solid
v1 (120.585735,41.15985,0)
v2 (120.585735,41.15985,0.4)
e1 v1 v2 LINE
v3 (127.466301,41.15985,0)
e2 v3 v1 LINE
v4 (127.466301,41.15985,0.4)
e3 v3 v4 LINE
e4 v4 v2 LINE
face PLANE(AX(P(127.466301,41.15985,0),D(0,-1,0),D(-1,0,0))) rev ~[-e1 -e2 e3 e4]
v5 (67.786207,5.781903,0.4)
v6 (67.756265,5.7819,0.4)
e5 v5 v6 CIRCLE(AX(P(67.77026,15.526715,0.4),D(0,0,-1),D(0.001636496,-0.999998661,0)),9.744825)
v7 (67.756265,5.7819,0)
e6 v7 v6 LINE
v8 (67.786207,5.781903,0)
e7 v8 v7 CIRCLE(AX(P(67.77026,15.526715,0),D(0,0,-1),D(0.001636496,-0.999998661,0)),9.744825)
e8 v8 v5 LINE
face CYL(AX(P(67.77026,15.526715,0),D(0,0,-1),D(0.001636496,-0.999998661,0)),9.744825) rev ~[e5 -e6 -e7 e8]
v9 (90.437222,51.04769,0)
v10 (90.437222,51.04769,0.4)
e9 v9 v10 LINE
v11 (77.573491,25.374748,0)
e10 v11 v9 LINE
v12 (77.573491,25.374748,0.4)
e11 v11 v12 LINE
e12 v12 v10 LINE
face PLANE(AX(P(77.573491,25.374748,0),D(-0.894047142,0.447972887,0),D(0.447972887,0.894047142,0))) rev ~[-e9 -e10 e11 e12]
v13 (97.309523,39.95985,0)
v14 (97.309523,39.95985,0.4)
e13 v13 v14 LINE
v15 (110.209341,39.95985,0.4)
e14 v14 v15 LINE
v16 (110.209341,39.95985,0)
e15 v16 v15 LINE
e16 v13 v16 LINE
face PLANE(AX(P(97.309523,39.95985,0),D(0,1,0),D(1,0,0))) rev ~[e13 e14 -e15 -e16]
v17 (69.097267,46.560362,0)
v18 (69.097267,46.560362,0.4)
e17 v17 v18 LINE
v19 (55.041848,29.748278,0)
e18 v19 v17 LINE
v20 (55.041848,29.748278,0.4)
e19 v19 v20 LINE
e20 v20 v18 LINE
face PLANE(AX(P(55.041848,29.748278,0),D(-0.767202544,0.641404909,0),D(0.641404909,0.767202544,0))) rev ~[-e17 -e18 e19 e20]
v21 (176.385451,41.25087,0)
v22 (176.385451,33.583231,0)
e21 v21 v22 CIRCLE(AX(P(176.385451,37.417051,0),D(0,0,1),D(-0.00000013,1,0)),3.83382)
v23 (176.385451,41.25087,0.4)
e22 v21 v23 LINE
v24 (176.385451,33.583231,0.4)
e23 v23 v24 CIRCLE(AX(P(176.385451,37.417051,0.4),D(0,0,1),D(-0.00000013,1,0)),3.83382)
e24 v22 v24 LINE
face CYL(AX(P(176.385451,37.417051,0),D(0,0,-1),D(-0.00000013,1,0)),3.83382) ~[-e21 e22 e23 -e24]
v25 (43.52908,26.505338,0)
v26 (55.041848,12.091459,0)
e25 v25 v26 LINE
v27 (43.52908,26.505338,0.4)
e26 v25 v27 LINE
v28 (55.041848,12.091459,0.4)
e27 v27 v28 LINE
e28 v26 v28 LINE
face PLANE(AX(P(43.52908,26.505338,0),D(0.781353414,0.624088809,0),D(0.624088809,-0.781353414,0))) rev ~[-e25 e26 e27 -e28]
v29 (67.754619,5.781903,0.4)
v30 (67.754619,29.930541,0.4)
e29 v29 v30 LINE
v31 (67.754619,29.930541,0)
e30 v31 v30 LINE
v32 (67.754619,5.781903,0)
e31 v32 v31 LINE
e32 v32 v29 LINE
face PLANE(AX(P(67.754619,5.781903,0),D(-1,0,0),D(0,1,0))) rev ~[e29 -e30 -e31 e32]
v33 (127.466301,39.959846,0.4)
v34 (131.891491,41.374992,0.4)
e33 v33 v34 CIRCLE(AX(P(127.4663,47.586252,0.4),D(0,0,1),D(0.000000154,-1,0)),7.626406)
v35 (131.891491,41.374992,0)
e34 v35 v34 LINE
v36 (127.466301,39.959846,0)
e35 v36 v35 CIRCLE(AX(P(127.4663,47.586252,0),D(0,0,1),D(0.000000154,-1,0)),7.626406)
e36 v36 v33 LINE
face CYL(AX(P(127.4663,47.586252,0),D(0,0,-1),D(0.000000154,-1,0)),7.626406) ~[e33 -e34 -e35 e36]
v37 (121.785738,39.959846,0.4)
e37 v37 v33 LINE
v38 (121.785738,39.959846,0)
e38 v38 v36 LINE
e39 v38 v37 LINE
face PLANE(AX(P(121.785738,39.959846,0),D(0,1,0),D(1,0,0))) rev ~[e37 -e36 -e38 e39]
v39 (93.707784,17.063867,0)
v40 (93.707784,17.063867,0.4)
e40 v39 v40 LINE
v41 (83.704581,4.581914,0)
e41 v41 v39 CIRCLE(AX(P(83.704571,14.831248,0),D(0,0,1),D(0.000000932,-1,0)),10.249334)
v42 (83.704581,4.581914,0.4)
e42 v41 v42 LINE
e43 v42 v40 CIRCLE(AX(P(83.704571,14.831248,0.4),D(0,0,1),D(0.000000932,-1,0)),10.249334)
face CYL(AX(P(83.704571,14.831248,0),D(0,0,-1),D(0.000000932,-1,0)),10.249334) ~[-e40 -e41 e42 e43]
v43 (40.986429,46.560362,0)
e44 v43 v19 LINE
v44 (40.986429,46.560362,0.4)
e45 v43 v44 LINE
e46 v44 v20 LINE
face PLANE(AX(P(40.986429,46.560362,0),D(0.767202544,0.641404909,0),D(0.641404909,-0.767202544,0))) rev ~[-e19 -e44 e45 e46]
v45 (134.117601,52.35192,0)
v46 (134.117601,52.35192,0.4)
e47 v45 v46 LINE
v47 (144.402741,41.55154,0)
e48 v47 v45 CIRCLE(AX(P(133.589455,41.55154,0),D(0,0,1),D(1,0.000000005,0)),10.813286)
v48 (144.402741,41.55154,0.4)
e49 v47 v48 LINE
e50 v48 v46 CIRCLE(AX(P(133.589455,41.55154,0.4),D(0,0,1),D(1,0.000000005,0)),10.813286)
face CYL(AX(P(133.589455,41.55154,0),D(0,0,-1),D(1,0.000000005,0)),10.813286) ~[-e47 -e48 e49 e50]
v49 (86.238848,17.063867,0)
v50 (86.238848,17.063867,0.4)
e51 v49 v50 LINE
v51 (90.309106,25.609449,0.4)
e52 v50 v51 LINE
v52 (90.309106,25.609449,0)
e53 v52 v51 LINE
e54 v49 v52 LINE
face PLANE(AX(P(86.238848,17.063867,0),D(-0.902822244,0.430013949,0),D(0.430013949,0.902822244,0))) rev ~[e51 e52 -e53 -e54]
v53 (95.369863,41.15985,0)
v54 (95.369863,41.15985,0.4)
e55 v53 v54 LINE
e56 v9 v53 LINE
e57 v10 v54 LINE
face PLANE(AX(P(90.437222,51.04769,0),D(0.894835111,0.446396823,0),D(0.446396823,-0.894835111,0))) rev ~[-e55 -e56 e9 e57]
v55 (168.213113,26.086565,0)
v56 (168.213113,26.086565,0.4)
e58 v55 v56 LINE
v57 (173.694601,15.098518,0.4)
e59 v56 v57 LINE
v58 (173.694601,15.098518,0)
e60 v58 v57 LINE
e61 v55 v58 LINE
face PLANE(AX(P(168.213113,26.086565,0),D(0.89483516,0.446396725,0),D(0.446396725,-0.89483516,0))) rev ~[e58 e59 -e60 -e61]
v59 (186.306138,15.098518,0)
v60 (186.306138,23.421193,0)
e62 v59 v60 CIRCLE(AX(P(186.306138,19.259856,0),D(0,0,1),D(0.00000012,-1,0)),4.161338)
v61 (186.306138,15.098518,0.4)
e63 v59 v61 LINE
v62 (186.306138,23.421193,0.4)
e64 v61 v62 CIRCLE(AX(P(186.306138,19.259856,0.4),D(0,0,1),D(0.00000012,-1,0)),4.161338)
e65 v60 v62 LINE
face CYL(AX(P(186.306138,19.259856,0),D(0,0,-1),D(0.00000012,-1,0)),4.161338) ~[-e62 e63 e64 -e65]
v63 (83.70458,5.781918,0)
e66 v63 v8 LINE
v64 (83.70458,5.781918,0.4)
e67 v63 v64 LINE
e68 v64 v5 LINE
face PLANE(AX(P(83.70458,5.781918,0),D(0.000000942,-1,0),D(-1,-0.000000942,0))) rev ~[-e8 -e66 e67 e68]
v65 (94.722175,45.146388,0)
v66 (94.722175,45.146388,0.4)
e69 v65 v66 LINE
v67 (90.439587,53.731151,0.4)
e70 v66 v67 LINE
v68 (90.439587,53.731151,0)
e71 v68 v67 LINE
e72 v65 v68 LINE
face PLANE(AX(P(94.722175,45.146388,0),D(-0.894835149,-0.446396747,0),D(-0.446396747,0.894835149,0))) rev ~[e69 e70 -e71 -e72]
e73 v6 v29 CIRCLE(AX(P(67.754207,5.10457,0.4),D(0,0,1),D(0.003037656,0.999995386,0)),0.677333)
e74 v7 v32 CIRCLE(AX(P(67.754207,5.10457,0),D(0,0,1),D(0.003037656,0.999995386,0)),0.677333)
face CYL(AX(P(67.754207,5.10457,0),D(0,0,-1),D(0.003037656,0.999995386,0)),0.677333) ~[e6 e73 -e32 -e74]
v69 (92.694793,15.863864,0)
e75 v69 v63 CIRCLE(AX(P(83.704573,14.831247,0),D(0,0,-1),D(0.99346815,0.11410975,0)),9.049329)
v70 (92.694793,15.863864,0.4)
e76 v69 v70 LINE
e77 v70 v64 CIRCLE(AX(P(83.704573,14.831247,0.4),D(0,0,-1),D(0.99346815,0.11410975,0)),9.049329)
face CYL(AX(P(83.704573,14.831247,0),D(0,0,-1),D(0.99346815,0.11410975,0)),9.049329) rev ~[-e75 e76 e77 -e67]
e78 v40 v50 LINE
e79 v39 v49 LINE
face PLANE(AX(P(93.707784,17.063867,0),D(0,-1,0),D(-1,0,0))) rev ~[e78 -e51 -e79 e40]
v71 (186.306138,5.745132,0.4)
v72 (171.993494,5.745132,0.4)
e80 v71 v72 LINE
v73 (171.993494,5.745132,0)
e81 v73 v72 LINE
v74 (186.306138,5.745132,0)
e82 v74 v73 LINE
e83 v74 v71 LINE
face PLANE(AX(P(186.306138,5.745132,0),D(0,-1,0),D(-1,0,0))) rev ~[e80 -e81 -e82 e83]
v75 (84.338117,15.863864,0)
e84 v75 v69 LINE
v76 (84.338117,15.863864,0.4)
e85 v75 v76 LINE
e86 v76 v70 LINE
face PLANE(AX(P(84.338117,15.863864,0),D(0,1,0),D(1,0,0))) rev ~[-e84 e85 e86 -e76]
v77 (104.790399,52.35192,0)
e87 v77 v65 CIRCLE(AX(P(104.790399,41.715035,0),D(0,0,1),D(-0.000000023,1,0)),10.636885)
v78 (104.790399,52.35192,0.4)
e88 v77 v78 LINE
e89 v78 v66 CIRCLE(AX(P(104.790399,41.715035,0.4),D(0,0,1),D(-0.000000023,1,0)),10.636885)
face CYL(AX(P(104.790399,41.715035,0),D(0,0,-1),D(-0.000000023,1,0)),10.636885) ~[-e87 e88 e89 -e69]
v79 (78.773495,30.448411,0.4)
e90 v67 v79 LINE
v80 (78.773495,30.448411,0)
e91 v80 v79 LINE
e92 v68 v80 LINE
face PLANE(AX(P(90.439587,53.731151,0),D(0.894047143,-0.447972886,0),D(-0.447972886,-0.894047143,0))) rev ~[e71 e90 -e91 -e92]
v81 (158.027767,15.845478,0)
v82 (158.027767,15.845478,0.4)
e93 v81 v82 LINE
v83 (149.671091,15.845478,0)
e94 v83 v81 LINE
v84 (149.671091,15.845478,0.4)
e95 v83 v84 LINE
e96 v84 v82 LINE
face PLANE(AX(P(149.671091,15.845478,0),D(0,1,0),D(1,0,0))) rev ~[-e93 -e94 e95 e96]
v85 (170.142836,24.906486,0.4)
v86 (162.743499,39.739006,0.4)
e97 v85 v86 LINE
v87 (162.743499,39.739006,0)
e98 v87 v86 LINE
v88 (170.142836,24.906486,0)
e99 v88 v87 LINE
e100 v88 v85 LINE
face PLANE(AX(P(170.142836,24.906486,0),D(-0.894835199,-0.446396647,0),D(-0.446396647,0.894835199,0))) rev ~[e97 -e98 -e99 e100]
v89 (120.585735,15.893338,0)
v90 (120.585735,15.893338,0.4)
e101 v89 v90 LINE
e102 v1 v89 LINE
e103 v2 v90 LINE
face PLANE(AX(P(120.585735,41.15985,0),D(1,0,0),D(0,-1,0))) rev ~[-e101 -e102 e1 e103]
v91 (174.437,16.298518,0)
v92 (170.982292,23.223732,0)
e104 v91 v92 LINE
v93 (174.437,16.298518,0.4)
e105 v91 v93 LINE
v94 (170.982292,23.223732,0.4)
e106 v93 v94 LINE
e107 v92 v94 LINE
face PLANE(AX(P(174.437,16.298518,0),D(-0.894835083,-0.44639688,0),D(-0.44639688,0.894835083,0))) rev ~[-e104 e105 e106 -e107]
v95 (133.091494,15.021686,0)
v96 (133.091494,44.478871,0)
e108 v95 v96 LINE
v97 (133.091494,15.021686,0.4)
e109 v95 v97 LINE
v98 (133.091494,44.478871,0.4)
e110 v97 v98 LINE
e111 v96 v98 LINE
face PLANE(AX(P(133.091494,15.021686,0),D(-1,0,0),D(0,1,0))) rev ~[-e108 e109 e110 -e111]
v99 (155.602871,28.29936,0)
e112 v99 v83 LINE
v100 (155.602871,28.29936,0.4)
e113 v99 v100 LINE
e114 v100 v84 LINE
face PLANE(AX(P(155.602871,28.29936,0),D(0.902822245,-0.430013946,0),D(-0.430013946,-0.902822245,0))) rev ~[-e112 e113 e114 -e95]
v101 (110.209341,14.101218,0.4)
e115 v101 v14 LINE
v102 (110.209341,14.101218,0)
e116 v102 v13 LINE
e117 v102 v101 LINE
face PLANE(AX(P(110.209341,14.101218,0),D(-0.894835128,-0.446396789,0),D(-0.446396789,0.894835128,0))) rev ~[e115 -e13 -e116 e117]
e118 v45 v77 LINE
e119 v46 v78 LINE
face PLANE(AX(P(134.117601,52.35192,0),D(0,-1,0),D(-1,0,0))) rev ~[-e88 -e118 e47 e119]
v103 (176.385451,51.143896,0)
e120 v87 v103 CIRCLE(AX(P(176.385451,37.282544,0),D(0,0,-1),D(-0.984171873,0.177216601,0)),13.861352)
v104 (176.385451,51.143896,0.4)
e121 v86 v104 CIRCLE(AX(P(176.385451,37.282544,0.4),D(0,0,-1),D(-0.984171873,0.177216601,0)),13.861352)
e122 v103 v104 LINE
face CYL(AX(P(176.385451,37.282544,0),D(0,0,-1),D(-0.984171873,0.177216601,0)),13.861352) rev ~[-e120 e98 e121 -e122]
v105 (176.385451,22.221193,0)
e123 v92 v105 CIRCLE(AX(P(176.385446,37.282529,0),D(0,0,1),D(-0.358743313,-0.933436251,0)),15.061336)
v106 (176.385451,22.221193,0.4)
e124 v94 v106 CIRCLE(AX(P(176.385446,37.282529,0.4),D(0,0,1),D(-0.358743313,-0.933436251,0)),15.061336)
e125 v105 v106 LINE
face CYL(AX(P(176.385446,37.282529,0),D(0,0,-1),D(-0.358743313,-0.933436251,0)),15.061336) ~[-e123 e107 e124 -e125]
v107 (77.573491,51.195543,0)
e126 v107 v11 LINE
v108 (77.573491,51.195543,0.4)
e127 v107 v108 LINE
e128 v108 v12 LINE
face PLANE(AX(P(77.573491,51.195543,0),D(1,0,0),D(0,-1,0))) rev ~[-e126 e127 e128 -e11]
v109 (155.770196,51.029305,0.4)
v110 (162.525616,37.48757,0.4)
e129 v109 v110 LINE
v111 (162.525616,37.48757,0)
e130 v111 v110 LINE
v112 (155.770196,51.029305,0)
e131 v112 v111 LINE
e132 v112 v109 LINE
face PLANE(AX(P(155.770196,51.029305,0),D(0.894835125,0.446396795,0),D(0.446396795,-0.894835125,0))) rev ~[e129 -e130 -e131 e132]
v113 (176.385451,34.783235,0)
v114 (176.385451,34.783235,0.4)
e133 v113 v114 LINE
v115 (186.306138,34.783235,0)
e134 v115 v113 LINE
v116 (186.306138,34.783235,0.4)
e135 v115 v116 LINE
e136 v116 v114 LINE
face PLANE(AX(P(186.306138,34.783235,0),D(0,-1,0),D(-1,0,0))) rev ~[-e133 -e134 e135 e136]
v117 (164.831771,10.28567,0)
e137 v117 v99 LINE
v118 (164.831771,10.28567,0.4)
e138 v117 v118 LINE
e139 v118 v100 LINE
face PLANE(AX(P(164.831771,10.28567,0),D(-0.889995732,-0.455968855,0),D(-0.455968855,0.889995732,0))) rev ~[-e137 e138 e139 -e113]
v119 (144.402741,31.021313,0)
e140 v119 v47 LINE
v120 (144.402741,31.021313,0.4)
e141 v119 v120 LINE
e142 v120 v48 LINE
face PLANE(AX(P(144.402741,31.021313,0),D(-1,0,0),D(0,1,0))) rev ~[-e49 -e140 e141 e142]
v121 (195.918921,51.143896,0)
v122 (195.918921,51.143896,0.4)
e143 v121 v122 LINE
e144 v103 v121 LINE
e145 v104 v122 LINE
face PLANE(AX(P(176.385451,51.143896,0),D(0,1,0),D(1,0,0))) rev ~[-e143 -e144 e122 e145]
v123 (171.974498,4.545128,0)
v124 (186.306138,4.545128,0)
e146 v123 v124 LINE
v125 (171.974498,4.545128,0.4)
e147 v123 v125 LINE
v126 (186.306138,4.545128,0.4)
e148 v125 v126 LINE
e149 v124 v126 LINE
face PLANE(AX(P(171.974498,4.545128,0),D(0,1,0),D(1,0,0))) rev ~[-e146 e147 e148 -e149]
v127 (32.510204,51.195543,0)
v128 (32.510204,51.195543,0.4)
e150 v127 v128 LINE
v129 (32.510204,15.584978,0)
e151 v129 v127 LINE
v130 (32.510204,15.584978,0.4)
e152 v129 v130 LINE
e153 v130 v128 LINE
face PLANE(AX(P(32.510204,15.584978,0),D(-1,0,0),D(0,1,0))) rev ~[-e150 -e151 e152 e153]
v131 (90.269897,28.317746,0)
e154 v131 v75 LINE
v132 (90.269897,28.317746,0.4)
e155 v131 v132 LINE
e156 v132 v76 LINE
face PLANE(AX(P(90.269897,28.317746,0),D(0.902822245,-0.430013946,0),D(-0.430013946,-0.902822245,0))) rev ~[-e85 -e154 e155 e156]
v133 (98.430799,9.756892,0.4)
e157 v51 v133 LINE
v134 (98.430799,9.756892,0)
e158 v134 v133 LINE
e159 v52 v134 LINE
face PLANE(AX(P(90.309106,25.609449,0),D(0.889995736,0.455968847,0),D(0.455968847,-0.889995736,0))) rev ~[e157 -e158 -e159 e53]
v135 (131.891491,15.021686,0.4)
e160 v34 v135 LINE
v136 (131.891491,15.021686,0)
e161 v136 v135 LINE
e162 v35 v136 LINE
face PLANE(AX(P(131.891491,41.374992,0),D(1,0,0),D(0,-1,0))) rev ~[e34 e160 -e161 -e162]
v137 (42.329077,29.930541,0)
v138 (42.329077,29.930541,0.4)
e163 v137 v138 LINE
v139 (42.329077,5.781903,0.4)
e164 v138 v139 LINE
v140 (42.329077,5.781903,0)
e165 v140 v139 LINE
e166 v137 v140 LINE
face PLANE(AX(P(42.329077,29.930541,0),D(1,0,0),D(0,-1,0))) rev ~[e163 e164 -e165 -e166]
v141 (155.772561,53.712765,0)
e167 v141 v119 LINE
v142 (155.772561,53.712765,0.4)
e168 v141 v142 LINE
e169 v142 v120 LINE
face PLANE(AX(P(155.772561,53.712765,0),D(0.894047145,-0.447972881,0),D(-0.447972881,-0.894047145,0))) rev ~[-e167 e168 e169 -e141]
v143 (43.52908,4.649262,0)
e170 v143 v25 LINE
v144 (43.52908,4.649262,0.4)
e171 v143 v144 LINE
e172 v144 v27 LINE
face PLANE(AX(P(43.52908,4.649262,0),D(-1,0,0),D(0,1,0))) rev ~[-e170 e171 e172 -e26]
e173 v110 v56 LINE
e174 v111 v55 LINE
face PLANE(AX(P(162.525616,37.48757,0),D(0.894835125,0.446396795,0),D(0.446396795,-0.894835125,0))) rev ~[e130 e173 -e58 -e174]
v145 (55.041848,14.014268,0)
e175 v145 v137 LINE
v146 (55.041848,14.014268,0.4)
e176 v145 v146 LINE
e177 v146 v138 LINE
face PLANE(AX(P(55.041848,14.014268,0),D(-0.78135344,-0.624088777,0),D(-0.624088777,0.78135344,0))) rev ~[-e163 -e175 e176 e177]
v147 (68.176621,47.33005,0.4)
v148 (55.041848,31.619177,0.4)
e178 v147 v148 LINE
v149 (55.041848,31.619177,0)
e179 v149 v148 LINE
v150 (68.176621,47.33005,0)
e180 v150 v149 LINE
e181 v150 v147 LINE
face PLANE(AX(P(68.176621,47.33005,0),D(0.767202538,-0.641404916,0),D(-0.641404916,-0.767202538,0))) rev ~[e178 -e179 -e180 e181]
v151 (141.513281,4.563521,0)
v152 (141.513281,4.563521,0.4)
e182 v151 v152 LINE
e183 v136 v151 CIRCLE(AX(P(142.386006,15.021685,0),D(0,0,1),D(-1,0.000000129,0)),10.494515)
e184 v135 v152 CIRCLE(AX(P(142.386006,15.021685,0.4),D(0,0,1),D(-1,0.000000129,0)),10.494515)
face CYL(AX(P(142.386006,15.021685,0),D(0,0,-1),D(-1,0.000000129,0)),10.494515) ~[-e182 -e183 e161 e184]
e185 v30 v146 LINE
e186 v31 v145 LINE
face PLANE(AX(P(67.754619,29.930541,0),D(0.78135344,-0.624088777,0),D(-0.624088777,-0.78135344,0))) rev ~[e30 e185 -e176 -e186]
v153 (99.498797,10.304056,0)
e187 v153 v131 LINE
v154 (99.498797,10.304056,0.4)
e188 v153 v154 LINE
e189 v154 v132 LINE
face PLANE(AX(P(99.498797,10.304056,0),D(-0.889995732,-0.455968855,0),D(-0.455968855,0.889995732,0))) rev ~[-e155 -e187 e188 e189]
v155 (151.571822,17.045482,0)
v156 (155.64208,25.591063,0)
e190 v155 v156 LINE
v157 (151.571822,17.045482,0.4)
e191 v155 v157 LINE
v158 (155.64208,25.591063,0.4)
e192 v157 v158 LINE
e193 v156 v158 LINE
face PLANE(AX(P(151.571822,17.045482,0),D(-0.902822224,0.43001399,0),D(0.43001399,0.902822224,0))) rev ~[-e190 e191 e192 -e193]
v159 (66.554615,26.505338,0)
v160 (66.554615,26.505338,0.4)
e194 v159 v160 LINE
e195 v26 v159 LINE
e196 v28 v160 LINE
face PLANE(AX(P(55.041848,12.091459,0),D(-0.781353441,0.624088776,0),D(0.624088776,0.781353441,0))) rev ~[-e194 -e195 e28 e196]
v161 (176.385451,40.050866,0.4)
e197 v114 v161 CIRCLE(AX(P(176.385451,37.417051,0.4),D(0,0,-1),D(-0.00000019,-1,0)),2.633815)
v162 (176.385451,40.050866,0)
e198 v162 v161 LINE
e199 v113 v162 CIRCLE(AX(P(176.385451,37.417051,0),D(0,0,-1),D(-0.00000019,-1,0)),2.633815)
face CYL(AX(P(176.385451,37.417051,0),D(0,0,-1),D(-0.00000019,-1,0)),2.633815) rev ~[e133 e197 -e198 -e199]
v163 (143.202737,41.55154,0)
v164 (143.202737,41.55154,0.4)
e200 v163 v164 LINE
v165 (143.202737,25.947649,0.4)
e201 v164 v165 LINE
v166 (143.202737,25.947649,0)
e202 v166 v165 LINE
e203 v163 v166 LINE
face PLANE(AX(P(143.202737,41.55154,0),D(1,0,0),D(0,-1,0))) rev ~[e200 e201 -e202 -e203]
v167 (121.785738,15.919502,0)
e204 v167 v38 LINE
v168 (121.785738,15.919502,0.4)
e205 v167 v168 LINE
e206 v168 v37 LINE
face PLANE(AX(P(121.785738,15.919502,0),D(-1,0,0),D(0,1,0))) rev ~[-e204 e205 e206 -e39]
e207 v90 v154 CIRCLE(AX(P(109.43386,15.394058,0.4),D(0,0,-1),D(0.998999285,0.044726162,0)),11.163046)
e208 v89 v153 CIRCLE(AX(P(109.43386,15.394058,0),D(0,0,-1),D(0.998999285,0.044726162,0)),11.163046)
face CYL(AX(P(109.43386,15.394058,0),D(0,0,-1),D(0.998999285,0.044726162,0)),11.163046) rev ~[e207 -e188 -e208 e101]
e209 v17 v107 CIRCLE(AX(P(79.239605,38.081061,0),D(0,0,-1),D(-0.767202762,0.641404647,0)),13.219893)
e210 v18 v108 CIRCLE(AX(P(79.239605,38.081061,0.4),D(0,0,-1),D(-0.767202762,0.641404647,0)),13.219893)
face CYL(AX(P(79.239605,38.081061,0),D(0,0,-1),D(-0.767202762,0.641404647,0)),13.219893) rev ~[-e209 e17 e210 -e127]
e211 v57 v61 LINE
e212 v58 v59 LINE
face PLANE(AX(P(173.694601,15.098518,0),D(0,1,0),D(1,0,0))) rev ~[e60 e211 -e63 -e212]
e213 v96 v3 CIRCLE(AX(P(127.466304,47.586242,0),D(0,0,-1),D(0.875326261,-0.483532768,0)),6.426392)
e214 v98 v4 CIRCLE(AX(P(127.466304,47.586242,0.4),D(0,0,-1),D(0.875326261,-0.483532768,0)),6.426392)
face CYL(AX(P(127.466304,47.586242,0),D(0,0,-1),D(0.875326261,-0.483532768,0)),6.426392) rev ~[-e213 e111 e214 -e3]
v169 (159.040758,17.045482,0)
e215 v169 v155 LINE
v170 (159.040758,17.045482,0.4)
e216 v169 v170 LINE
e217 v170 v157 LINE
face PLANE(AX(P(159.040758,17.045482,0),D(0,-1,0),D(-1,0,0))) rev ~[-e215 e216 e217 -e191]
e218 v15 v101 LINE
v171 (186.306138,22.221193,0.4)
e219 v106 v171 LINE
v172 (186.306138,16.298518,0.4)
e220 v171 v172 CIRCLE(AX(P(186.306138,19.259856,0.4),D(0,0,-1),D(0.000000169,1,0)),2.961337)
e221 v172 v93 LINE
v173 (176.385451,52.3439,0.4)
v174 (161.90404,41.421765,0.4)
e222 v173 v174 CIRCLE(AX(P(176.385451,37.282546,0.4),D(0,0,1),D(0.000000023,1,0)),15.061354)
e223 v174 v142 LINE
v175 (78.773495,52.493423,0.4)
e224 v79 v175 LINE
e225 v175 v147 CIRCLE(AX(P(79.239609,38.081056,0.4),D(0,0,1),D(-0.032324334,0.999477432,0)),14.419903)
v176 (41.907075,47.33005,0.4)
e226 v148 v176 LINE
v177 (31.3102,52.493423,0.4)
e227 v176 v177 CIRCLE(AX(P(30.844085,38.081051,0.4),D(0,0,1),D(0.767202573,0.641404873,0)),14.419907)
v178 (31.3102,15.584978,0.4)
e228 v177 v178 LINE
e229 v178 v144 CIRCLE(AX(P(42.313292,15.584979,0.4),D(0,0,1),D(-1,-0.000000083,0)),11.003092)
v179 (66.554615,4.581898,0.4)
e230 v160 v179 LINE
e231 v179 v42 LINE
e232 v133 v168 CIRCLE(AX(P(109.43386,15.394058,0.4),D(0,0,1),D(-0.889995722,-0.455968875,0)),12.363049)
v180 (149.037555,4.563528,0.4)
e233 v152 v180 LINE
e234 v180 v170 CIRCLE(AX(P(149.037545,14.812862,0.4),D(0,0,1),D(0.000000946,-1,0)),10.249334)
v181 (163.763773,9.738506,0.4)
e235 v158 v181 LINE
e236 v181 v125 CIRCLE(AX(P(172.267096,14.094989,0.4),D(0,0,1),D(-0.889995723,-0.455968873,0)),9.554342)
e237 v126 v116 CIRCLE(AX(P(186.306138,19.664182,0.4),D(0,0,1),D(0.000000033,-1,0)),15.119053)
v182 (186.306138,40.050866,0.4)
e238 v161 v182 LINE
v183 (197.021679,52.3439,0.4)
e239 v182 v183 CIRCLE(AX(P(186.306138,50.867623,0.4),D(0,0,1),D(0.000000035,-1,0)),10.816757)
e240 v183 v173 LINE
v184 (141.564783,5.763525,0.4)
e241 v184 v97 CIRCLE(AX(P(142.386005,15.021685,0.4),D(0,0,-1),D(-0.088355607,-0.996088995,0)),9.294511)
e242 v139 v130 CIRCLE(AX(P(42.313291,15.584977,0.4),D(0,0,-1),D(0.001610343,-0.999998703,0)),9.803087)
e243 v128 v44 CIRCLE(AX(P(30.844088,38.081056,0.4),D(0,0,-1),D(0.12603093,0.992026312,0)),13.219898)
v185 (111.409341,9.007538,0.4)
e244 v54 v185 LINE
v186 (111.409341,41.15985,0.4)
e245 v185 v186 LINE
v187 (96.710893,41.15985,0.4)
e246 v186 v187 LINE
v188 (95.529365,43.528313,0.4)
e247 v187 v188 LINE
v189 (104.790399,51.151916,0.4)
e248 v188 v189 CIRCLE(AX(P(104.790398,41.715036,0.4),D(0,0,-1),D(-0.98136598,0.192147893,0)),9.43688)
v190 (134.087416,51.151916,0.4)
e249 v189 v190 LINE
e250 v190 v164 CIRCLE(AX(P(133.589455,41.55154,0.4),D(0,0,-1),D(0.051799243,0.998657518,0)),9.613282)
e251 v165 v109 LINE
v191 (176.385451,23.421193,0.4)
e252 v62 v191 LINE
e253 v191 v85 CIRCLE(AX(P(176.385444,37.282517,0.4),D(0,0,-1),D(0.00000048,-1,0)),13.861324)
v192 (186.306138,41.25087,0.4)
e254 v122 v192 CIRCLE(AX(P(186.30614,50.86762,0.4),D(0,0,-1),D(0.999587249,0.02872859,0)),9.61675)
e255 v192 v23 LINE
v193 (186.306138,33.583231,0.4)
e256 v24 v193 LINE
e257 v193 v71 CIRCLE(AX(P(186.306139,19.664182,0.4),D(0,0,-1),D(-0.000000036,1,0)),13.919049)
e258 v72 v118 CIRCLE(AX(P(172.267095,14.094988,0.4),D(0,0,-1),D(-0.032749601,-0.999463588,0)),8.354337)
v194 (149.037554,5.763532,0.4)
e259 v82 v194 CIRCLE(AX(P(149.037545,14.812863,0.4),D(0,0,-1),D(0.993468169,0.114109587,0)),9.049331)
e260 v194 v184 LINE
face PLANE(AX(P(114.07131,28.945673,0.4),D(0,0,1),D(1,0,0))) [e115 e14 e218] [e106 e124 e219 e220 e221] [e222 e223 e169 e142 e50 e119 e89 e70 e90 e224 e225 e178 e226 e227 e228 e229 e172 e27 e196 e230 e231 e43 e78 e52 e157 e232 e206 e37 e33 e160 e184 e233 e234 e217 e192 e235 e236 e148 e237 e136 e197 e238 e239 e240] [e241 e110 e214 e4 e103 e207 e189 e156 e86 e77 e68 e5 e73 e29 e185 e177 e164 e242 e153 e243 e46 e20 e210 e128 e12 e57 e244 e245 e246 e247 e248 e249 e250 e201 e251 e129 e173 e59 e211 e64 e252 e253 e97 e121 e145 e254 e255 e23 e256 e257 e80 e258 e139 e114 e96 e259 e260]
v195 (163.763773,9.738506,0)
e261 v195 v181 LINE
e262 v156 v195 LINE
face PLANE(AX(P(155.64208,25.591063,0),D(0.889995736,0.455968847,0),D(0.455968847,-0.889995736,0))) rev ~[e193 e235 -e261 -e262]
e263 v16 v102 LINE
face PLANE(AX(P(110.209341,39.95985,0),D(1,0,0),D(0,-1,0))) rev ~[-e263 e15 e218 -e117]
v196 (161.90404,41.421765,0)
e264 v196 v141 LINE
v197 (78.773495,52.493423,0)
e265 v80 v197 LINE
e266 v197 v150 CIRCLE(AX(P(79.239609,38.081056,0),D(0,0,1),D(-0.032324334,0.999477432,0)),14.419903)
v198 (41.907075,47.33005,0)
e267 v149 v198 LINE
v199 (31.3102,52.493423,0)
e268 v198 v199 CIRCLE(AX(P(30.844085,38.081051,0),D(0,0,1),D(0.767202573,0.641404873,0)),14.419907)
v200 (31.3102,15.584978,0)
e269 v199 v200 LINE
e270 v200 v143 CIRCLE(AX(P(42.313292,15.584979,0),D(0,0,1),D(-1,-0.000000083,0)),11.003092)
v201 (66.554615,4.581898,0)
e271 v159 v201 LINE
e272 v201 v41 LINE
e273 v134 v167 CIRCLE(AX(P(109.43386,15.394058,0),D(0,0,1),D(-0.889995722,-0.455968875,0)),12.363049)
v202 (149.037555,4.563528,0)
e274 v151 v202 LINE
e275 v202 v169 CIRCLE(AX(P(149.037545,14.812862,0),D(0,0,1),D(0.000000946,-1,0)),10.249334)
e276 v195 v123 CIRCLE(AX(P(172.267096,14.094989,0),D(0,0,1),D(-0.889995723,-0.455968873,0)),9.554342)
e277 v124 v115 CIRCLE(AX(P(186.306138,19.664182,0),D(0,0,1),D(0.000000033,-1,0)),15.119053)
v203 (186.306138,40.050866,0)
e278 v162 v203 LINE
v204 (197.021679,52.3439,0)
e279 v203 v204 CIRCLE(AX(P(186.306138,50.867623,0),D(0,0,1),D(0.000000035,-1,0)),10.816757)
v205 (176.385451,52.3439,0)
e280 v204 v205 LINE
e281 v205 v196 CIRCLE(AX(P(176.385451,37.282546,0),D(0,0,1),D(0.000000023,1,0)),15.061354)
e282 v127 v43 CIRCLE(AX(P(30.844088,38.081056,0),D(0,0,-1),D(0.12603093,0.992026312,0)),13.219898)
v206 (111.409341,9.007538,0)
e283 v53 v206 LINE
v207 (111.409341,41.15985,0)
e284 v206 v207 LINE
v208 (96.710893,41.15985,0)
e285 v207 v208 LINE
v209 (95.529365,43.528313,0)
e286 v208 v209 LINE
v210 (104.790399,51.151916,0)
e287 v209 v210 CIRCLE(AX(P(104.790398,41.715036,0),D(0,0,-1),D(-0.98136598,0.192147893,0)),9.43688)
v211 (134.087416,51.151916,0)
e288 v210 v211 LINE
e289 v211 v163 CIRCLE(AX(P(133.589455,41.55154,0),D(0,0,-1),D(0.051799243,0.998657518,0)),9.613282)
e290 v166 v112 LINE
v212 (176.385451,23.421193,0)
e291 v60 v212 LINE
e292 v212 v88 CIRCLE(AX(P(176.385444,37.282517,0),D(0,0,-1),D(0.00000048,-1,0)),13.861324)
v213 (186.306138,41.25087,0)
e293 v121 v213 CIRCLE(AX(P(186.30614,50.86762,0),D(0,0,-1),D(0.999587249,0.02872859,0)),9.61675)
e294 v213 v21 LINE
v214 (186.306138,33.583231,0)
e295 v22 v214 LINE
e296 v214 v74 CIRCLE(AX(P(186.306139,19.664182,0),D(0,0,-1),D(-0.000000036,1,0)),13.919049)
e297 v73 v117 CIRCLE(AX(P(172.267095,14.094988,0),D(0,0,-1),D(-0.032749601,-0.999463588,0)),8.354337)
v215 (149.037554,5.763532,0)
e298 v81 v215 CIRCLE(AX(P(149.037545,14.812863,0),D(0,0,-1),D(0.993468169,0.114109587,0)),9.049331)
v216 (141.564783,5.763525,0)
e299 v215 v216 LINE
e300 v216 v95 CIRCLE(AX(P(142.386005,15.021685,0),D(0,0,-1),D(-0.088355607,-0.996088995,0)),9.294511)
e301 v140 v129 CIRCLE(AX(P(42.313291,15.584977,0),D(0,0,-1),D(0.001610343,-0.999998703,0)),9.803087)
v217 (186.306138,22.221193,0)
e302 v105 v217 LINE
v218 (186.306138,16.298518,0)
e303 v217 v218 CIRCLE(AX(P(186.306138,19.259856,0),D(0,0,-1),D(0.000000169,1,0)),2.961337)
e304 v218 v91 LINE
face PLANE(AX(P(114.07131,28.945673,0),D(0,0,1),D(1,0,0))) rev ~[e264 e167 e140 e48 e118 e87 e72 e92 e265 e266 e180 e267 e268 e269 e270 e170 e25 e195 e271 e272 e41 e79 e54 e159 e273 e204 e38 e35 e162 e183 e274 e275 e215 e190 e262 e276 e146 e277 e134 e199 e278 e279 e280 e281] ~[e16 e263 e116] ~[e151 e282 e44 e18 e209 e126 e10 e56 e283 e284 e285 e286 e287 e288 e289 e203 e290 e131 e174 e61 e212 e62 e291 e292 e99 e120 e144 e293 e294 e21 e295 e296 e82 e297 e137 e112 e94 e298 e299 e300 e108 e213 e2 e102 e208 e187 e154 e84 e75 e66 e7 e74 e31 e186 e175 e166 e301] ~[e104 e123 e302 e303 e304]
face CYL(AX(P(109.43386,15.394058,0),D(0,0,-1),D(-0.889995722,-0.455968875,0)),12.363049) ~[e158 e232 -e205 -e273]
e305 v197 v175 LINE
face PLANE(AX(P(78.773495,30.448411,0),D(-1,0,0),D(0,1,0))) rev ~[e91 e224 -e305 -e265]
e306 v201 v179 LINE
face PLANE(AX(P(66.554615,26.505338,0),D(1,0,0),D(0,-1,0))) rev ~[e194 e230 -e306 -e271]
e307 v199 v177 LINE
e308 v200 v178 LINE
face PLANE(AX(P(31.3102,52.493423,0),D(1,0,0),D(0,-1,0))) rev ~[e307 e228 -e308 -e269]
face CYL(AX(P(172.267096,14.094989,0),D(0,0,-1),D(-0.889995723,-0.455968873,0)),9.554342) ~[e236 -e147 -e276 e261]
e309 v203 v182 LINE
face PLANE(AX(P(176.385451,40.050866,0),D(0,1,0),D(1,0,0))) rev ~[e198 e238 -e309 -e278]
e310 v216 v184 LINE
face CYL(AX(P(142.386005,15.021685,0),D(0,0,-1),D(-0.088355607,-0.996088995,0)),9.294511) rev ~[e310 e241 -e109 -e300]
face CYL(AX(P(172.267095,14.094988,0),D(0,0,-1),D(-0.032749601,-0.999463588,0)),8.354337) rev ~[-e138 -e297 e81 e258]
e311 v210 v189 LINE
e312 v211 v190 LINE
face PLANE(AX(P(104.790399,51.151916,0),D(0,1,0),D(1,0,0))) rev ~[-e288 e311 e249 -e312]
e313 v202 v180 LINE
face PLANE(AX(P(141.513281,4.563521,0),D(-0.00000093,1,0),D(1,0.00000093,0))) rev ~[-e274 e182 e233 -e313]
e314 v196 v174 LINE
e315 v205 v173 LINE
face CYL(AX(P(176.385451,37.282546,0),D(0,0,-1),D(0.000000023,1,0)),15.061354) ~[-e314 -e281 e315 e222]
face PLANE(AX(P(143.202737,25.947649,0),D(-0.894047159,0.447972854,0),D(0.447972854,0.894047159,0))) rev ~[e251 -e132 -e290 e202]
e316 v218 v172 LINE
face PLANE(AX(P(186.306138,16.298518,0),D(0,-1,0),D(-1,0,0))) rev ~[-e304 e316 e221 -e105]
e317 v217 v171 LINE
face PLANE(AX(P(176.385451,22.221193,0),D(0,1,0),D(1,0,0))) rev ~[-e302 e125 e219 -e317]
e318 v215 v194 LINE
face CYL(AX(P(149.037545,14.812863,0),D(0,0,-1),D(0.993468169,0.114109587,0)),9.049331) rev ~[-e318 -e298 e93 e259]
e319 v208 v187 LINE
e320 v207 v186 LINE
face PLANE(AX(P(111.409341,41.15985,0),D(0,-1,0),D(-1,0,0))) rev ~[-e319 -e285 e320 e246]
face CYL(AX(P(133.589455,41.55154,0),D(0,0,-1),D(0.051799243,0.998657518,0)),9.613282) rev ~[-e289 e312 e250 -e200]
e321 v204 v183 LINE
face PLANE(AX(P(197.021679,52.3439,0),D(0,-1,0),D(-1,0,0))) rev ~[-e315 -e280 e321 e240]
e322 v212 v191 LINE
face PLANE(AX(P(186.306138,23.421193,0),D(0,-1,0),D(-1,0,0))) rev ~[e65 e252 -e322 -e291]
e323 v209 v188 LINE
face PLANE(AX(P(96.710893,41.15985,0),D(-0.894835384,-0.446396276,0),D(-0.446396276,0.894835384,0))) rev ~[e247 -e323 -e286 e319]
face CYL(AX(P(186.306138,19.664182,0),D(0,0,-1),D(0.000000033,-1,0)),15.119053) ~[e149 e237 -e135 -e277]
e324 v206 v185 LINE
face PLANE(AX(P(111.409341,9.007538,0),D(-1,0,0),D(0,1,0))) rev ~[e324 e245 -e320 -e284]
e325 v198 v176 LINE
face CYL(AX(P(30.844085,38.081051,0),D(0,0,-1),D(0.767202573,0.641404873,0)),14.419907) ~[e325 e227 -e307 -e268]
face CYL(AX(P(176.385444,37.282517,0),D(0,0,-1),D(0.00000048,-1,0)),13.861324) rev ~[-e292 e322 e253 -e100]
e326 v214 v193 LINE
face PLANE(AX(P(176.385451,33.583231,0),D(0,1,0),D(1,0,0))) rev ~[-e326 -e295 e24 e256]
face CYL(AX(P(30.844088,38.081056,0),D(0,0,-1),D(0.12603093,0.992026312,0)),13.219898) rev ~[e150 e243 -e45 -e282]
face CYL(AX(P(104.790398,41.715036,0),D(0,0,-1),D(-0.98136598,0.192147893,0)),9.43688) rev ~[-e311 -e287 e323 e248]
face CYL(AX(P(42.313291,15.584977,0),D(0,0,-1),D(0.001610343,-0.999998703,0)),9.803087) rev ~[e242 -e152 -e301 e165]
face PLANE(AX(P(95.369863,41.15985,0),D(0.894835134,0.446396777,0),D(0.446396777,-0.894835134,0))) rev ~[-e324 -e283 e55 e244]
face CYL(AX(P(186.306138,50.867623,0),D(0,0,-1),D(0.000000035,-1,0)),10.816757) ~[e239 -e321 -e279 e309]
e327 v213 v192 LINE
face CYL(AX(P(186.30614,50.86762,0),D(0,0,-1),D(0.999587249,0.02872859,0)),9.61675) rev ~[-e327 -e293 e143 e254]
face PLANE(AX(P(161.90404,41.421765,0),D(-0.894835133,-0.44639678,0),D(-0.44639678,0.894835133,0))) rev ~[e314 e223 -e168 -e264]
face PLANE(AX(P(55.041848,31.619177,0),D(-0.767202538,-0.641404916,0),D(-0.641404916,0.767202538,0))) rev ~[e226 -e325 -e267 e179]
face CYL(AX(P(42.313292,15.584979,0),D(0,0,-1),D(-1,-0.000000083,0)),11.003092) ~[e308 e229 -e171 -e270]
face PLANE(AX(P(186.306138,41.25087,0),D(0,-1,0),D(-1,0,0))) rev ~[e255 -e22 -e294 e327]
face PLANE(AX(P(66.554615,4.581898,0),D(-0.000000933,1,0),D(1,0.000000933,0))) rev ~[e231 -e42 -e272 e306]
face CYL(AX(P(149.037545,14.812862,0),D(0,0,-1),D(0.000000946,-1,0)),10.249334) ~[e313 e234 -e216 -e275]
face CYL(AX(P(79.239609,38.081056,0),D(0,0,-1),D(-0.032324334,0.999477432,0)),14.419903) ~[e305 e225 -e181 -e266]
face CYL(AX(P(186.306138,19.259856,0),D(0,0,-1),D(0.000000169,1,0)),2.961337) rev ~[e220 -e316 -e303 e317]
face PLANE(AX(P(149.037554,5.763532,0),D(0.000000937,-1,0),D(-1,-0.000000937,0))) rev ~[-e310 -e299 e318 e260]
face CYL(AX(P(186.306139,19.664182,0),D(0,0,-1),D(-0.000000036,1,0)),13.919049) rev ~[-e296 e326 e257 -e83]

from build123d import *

# Parameters (mm, degrees)
F1_DEPTH = 0.4


with BuildPart() as f1:
    # F0 (on Top) → F1 (new body)
    with BuildSketch(Plane.XY):
        with BuildLine():
            Line((134.117601, 52.35192), (104.790399, 52.35192))
            ThreePointArc((104.790399, 52.35192), (98.599906, 50.364955), (94.722175, 45.146388))
            Line((94.722175, 45.146388), (90.439587, 53.731151))
            Line((90.439587, 53.731151), (78.773495, 30.448411))
            Line((78.773495, 30.448411), (78.773495, 52.493423))
            ThreePointArc((78.773495, 52.493423), (72.923348, 51.04402), (68.176621, 47.33005))
            Line((68.176621, 47.33005), (55.041848, 31.619177))
            Line((55.041848, 31.619177), (41.907075, 47.33005))
            ThreePointArc((41.907075, 47.33005), (37.160347, 51.04402), (31.3102, 52.493423))
            Line((31.3102, 52.493423), (31.3102, 15.584978))
            ThreePointArc((31.3102, 15.584978), (34.975357, 7.386031), (43.52908, 4.649262))
            Line((43.52908, 4.649262), (43.52908, 26.505338))
            Line((43.52908, 26.505338), (55.041848, 12.091459))
            Line((55.041848, 12.091459), (66.554615, 26.505338))
            Line((66.554615, 26.505338), (66.554615, 4.581898))
            Line((66.554615, 4.581898), (83.704581, 4.581914))
            ThreePointArc((83.704581, 4.581914), (91.70244, 8.42165), (93.707784, 17.063867))
            Line((93.707784, 17.063867), (86.238848, 17.063867))
            Line((86.238848, 17.063867), (90.309106, 25.609449))
            Line((90.309106, 25.609449), (98.430799, 9.756892))
            ThreePointArc((98.430799, 9.756892), (112.588106, 3.440158), (121.785738, 15.919502))
            Line((121.785738, 15.919502), (121.785738, 39.959846))
            Line((121.785738, 39.959846), (127.466301, 39.959846))
            ThreePointArc((127.466301, 39.959846), (129.789281, 40.322243), (131.891491, 41.374992))
            Line((131.891491, 41.374992), (131.891491, 15.021686))
            ThreePointArc((131.891491, 15.021686), (134.662869, 7.916194), (141.513281, 4.563521))
            Line((141.513281, 4.563521), (149.037555, 4.563528))
            ThreePointArc((149.037555, 4.563528), (157.035414, 8.403264), (159.040758, 17.045482))
            Line((159.040758, 17.045482), (151.571822, 17.045482))
            Line((151.571822, 17.045482), (155.64208, 25.591063))
            Line((155.64208, 25.591063), (163.763773, 9.738506))
            ThreePointArc((163.763773, 9.738506), (167.159763, 6.0203), (171.974498, 4.545128))
            Line((171.974498, 4.545128), (178.360625, 4.545128))
            Line((178.360625, 4.545128), (186.306138, 4.545128))
            ThreePointArc((186.306138, 4.545128), (201.425191, 19.664181), (186.306138, 34.783235))
            Line((186.306138, 34.783235), (176.385451, 34.783235))
            ThreePointArc((176.385451, 34.783235), (173.751636, 37.41705), (176.385451, 40.050866))
            Line((176.385451, 40.050866), (186.306138, 40.050866))
            ThreePointArc((186.306138, 40.050866), (194.459994, 43.760102), (197.021679, 52.3439))
            Line((197.021679, 52.3439), (176.385451, 52.3439))
            ThreePointArc((176.385451, 52.3439), (167.316213, 49.307242), (161.90404, 41.421765))
            Line((161.90404, 41.421765), (155.772561, 53.712765))
            Line((155.772561, 53.712765), (144.402741, 31.021313))
            Line((144.402741, 31.021313), (144.402741, 41.55154))
            ThreePointArc((144.402741, 41.55154), (141.420105, 49.008622), (134.117601, 52.35192))
        make_face()
        Polygon((110.209341, 39.95985), (110.209341, 14.101218), (97.309523, 39.95985), align=None, mode=Mode.SUBTRACT)
        with BuildLine():
            Line((32.510204, 15.584978), (32.510204, 51.195543))
            ThreePointArc((32.510204, 51.195543), (37.18689, 49.67996), (40.986429, 46.560362))
            Line((40.986429, 46.560362), (55.041848, 29.748278))
            Line((55.041848, 29.748278), (69.097267, 46.560362))
            ThreePointArc((69.097267, 46.560362), (72.896805, 49.67996), (77.573491, 51.195543))
            Line((77.573491, 51.195543), (77.573491, 25.374748))
            Line((77.573491, 25.374748), (90.437222, 51.04769))
            Line((90.437222, 51.04769), (95.369863, 41.15985))
            Line((95.369863, 41.15985), (111.409341, 9.007538))
            Line((111.409341, 9.007538), (111.409341, 41.15985))
            Line((111.409341, 41.15985), (96.710893, 41.15985))
            Line((96.710893, 41.15985), (95.529365, 43.528313))
            ThreePointArc((95.529365, 43.528313), (98.792773, 49.000858), (104.790399, 51.151916))
            Line((104.790399, 51.151916), (134.087416, 51.151916))
            ThreePointArc((134.087416, 51.151916), (140.560905, 48.17076), (143.202737, 41.55154))
            Line((143.202737, 41.55154), (143.202737, 25.947649))
            Line((143.202737, 25.947649), (155.770196, 51.029305))
            Line((155.770196, 51.029305), (162.525616, 37.48757))
            Line((162.525616, 37.48757), (168.213113, 26.086565))
            Line((168.213113, 26.086565), (173.694601, 15.098518))
            Line((173.694601, 15.098518), (186.306138, 15.098518))
            ThreePointArc((186.306138, 15.098518), (190.467475, 19.259855), (186.306138, 23.421193))
            Line((186.306138, 23.421193), (176.385451, 23.421193))
            ThreePointArc((176.385451, 23.421193), (173.177011, 23.797627), (170.142836, 24.906486))
            Line((170.142836, 24.906486), (162.743499, 39.739006))
            ThreePointArc((162.743499, 39.739006), (167.494805, 47.917086), (176.385451, 51.143896))
            Line((176.385451, 51.143896), (195.918921, 51.143896))
            ThreePointArc((195.918921, 51.143896), (193.203195, 44.16594), (186.306138, 41.25087))
            Line((186.306138, 41.25087), (176.385451, 41.25087))
            ThreePointArc((176.385451, 41.25087), (172.551632, 37.41705), (176.385451, 33.583231))
            Line((176.385451, 33.583231), (186.306138, 33.583231))
            ThreePointArc((186.306138, 33.583231), (200.225188, 19.664181), (186.306138, 5.745132))
            Line((186.306138, 5.745132), (178.360625, 5.745132))
            Line((178.360625, 5.745132), (171.993494, 5.745132))
            ThreePointArc((171.993494, 5.745132), (167.793729, 7.039214), (164.831771, 10.28567))
            Line((164.831771, 10.28567), (155.602871, 28.29936))
            Line((155.602871, 28.29936), (149.671091, 15.845478))
            Line((149.671091, 15.845478), (158.027767, 15.845478))
            ThreePointArc((158.027767, 15.845478), (155.791616, 8.790163), (149.037554, 5.763532))
            Line((149.037554, 5.763532), (141.564783, 5.763525))
            ThreePointArc((141.564783, 5.763525), (135.529592, 8.746533), (133.091494, 15.021686))
            Line((133.091494, 15.021686), (133.091494, 44.478871))
            ThreePointArc((133.091494, 44.478871), (130.731983, 42.051456), (127.466301, 41.15985))
            Line((127.466301, 41.15985), (120.585735, 41.15985))
            Line((120.585735, 41.15985), (120.585735, 15.893338))
            ThreePointArc((120.585735, 15.893338), (112.293961, 4.603626), (99.498797, 10.304056))
            Line((99.498797, 10.304056), (90.269897, 28.317746))
            Line((90.269897, 28.317746), (84.338117, 15.863864))
            Line((84.338117, 15.863864), (92.694793, 15.863864))
            ThreePointArc((92.694793, 15.863864), (90.458642, 8.808548), (83.70458, 5.781918))
            Line((83.70458, 5.781918), (67.786207, 5.781903))
            ThreePointArc((67.786207, 5.781903), (67.771236, 5.78189), (67.756265, 5.7819))
            ThreePointArc((67.756265, 5.7819), (67.755442, 5.781902), (67.754619, 5.781903))
            Line((67.754619, 5.781903), (67.754619, 29.930541))
            Line((67.754619, 29.930541), (55.041848, 14.014268))
            Line((55.041848, 14.014268), (42.329077, 29.930541))
            Line((42.329077, 29.930541), (42.329077, 5.781903))
            ThreePointArc((42.329077, 5.781903), (35.387045, 8.647569), (32.510204, 15.584978))
        make_face(mode=Mode.SUBTRACT)
        with BuildLine():
            Line((174.437, 16.298518), (170.982292, 23.223732))
            ThreePointArc((170.982292, 23.223732), (173.637761, 22.473948), (176.385451, 22.221193))
            Line((176.385451, 22.221193), (186.306138, 22.221193))
            ThreePointArc((186.306138, 22.221193), (189.267475, 19.259855), (186.306138, 16.298518))
            Line((186.306138, 16.298518), (174.437, 16.298518))
        make_face(mode=Mode.SUBTRACT)
    extrude(amount=F1_DEPTH)


solid = f1.part
